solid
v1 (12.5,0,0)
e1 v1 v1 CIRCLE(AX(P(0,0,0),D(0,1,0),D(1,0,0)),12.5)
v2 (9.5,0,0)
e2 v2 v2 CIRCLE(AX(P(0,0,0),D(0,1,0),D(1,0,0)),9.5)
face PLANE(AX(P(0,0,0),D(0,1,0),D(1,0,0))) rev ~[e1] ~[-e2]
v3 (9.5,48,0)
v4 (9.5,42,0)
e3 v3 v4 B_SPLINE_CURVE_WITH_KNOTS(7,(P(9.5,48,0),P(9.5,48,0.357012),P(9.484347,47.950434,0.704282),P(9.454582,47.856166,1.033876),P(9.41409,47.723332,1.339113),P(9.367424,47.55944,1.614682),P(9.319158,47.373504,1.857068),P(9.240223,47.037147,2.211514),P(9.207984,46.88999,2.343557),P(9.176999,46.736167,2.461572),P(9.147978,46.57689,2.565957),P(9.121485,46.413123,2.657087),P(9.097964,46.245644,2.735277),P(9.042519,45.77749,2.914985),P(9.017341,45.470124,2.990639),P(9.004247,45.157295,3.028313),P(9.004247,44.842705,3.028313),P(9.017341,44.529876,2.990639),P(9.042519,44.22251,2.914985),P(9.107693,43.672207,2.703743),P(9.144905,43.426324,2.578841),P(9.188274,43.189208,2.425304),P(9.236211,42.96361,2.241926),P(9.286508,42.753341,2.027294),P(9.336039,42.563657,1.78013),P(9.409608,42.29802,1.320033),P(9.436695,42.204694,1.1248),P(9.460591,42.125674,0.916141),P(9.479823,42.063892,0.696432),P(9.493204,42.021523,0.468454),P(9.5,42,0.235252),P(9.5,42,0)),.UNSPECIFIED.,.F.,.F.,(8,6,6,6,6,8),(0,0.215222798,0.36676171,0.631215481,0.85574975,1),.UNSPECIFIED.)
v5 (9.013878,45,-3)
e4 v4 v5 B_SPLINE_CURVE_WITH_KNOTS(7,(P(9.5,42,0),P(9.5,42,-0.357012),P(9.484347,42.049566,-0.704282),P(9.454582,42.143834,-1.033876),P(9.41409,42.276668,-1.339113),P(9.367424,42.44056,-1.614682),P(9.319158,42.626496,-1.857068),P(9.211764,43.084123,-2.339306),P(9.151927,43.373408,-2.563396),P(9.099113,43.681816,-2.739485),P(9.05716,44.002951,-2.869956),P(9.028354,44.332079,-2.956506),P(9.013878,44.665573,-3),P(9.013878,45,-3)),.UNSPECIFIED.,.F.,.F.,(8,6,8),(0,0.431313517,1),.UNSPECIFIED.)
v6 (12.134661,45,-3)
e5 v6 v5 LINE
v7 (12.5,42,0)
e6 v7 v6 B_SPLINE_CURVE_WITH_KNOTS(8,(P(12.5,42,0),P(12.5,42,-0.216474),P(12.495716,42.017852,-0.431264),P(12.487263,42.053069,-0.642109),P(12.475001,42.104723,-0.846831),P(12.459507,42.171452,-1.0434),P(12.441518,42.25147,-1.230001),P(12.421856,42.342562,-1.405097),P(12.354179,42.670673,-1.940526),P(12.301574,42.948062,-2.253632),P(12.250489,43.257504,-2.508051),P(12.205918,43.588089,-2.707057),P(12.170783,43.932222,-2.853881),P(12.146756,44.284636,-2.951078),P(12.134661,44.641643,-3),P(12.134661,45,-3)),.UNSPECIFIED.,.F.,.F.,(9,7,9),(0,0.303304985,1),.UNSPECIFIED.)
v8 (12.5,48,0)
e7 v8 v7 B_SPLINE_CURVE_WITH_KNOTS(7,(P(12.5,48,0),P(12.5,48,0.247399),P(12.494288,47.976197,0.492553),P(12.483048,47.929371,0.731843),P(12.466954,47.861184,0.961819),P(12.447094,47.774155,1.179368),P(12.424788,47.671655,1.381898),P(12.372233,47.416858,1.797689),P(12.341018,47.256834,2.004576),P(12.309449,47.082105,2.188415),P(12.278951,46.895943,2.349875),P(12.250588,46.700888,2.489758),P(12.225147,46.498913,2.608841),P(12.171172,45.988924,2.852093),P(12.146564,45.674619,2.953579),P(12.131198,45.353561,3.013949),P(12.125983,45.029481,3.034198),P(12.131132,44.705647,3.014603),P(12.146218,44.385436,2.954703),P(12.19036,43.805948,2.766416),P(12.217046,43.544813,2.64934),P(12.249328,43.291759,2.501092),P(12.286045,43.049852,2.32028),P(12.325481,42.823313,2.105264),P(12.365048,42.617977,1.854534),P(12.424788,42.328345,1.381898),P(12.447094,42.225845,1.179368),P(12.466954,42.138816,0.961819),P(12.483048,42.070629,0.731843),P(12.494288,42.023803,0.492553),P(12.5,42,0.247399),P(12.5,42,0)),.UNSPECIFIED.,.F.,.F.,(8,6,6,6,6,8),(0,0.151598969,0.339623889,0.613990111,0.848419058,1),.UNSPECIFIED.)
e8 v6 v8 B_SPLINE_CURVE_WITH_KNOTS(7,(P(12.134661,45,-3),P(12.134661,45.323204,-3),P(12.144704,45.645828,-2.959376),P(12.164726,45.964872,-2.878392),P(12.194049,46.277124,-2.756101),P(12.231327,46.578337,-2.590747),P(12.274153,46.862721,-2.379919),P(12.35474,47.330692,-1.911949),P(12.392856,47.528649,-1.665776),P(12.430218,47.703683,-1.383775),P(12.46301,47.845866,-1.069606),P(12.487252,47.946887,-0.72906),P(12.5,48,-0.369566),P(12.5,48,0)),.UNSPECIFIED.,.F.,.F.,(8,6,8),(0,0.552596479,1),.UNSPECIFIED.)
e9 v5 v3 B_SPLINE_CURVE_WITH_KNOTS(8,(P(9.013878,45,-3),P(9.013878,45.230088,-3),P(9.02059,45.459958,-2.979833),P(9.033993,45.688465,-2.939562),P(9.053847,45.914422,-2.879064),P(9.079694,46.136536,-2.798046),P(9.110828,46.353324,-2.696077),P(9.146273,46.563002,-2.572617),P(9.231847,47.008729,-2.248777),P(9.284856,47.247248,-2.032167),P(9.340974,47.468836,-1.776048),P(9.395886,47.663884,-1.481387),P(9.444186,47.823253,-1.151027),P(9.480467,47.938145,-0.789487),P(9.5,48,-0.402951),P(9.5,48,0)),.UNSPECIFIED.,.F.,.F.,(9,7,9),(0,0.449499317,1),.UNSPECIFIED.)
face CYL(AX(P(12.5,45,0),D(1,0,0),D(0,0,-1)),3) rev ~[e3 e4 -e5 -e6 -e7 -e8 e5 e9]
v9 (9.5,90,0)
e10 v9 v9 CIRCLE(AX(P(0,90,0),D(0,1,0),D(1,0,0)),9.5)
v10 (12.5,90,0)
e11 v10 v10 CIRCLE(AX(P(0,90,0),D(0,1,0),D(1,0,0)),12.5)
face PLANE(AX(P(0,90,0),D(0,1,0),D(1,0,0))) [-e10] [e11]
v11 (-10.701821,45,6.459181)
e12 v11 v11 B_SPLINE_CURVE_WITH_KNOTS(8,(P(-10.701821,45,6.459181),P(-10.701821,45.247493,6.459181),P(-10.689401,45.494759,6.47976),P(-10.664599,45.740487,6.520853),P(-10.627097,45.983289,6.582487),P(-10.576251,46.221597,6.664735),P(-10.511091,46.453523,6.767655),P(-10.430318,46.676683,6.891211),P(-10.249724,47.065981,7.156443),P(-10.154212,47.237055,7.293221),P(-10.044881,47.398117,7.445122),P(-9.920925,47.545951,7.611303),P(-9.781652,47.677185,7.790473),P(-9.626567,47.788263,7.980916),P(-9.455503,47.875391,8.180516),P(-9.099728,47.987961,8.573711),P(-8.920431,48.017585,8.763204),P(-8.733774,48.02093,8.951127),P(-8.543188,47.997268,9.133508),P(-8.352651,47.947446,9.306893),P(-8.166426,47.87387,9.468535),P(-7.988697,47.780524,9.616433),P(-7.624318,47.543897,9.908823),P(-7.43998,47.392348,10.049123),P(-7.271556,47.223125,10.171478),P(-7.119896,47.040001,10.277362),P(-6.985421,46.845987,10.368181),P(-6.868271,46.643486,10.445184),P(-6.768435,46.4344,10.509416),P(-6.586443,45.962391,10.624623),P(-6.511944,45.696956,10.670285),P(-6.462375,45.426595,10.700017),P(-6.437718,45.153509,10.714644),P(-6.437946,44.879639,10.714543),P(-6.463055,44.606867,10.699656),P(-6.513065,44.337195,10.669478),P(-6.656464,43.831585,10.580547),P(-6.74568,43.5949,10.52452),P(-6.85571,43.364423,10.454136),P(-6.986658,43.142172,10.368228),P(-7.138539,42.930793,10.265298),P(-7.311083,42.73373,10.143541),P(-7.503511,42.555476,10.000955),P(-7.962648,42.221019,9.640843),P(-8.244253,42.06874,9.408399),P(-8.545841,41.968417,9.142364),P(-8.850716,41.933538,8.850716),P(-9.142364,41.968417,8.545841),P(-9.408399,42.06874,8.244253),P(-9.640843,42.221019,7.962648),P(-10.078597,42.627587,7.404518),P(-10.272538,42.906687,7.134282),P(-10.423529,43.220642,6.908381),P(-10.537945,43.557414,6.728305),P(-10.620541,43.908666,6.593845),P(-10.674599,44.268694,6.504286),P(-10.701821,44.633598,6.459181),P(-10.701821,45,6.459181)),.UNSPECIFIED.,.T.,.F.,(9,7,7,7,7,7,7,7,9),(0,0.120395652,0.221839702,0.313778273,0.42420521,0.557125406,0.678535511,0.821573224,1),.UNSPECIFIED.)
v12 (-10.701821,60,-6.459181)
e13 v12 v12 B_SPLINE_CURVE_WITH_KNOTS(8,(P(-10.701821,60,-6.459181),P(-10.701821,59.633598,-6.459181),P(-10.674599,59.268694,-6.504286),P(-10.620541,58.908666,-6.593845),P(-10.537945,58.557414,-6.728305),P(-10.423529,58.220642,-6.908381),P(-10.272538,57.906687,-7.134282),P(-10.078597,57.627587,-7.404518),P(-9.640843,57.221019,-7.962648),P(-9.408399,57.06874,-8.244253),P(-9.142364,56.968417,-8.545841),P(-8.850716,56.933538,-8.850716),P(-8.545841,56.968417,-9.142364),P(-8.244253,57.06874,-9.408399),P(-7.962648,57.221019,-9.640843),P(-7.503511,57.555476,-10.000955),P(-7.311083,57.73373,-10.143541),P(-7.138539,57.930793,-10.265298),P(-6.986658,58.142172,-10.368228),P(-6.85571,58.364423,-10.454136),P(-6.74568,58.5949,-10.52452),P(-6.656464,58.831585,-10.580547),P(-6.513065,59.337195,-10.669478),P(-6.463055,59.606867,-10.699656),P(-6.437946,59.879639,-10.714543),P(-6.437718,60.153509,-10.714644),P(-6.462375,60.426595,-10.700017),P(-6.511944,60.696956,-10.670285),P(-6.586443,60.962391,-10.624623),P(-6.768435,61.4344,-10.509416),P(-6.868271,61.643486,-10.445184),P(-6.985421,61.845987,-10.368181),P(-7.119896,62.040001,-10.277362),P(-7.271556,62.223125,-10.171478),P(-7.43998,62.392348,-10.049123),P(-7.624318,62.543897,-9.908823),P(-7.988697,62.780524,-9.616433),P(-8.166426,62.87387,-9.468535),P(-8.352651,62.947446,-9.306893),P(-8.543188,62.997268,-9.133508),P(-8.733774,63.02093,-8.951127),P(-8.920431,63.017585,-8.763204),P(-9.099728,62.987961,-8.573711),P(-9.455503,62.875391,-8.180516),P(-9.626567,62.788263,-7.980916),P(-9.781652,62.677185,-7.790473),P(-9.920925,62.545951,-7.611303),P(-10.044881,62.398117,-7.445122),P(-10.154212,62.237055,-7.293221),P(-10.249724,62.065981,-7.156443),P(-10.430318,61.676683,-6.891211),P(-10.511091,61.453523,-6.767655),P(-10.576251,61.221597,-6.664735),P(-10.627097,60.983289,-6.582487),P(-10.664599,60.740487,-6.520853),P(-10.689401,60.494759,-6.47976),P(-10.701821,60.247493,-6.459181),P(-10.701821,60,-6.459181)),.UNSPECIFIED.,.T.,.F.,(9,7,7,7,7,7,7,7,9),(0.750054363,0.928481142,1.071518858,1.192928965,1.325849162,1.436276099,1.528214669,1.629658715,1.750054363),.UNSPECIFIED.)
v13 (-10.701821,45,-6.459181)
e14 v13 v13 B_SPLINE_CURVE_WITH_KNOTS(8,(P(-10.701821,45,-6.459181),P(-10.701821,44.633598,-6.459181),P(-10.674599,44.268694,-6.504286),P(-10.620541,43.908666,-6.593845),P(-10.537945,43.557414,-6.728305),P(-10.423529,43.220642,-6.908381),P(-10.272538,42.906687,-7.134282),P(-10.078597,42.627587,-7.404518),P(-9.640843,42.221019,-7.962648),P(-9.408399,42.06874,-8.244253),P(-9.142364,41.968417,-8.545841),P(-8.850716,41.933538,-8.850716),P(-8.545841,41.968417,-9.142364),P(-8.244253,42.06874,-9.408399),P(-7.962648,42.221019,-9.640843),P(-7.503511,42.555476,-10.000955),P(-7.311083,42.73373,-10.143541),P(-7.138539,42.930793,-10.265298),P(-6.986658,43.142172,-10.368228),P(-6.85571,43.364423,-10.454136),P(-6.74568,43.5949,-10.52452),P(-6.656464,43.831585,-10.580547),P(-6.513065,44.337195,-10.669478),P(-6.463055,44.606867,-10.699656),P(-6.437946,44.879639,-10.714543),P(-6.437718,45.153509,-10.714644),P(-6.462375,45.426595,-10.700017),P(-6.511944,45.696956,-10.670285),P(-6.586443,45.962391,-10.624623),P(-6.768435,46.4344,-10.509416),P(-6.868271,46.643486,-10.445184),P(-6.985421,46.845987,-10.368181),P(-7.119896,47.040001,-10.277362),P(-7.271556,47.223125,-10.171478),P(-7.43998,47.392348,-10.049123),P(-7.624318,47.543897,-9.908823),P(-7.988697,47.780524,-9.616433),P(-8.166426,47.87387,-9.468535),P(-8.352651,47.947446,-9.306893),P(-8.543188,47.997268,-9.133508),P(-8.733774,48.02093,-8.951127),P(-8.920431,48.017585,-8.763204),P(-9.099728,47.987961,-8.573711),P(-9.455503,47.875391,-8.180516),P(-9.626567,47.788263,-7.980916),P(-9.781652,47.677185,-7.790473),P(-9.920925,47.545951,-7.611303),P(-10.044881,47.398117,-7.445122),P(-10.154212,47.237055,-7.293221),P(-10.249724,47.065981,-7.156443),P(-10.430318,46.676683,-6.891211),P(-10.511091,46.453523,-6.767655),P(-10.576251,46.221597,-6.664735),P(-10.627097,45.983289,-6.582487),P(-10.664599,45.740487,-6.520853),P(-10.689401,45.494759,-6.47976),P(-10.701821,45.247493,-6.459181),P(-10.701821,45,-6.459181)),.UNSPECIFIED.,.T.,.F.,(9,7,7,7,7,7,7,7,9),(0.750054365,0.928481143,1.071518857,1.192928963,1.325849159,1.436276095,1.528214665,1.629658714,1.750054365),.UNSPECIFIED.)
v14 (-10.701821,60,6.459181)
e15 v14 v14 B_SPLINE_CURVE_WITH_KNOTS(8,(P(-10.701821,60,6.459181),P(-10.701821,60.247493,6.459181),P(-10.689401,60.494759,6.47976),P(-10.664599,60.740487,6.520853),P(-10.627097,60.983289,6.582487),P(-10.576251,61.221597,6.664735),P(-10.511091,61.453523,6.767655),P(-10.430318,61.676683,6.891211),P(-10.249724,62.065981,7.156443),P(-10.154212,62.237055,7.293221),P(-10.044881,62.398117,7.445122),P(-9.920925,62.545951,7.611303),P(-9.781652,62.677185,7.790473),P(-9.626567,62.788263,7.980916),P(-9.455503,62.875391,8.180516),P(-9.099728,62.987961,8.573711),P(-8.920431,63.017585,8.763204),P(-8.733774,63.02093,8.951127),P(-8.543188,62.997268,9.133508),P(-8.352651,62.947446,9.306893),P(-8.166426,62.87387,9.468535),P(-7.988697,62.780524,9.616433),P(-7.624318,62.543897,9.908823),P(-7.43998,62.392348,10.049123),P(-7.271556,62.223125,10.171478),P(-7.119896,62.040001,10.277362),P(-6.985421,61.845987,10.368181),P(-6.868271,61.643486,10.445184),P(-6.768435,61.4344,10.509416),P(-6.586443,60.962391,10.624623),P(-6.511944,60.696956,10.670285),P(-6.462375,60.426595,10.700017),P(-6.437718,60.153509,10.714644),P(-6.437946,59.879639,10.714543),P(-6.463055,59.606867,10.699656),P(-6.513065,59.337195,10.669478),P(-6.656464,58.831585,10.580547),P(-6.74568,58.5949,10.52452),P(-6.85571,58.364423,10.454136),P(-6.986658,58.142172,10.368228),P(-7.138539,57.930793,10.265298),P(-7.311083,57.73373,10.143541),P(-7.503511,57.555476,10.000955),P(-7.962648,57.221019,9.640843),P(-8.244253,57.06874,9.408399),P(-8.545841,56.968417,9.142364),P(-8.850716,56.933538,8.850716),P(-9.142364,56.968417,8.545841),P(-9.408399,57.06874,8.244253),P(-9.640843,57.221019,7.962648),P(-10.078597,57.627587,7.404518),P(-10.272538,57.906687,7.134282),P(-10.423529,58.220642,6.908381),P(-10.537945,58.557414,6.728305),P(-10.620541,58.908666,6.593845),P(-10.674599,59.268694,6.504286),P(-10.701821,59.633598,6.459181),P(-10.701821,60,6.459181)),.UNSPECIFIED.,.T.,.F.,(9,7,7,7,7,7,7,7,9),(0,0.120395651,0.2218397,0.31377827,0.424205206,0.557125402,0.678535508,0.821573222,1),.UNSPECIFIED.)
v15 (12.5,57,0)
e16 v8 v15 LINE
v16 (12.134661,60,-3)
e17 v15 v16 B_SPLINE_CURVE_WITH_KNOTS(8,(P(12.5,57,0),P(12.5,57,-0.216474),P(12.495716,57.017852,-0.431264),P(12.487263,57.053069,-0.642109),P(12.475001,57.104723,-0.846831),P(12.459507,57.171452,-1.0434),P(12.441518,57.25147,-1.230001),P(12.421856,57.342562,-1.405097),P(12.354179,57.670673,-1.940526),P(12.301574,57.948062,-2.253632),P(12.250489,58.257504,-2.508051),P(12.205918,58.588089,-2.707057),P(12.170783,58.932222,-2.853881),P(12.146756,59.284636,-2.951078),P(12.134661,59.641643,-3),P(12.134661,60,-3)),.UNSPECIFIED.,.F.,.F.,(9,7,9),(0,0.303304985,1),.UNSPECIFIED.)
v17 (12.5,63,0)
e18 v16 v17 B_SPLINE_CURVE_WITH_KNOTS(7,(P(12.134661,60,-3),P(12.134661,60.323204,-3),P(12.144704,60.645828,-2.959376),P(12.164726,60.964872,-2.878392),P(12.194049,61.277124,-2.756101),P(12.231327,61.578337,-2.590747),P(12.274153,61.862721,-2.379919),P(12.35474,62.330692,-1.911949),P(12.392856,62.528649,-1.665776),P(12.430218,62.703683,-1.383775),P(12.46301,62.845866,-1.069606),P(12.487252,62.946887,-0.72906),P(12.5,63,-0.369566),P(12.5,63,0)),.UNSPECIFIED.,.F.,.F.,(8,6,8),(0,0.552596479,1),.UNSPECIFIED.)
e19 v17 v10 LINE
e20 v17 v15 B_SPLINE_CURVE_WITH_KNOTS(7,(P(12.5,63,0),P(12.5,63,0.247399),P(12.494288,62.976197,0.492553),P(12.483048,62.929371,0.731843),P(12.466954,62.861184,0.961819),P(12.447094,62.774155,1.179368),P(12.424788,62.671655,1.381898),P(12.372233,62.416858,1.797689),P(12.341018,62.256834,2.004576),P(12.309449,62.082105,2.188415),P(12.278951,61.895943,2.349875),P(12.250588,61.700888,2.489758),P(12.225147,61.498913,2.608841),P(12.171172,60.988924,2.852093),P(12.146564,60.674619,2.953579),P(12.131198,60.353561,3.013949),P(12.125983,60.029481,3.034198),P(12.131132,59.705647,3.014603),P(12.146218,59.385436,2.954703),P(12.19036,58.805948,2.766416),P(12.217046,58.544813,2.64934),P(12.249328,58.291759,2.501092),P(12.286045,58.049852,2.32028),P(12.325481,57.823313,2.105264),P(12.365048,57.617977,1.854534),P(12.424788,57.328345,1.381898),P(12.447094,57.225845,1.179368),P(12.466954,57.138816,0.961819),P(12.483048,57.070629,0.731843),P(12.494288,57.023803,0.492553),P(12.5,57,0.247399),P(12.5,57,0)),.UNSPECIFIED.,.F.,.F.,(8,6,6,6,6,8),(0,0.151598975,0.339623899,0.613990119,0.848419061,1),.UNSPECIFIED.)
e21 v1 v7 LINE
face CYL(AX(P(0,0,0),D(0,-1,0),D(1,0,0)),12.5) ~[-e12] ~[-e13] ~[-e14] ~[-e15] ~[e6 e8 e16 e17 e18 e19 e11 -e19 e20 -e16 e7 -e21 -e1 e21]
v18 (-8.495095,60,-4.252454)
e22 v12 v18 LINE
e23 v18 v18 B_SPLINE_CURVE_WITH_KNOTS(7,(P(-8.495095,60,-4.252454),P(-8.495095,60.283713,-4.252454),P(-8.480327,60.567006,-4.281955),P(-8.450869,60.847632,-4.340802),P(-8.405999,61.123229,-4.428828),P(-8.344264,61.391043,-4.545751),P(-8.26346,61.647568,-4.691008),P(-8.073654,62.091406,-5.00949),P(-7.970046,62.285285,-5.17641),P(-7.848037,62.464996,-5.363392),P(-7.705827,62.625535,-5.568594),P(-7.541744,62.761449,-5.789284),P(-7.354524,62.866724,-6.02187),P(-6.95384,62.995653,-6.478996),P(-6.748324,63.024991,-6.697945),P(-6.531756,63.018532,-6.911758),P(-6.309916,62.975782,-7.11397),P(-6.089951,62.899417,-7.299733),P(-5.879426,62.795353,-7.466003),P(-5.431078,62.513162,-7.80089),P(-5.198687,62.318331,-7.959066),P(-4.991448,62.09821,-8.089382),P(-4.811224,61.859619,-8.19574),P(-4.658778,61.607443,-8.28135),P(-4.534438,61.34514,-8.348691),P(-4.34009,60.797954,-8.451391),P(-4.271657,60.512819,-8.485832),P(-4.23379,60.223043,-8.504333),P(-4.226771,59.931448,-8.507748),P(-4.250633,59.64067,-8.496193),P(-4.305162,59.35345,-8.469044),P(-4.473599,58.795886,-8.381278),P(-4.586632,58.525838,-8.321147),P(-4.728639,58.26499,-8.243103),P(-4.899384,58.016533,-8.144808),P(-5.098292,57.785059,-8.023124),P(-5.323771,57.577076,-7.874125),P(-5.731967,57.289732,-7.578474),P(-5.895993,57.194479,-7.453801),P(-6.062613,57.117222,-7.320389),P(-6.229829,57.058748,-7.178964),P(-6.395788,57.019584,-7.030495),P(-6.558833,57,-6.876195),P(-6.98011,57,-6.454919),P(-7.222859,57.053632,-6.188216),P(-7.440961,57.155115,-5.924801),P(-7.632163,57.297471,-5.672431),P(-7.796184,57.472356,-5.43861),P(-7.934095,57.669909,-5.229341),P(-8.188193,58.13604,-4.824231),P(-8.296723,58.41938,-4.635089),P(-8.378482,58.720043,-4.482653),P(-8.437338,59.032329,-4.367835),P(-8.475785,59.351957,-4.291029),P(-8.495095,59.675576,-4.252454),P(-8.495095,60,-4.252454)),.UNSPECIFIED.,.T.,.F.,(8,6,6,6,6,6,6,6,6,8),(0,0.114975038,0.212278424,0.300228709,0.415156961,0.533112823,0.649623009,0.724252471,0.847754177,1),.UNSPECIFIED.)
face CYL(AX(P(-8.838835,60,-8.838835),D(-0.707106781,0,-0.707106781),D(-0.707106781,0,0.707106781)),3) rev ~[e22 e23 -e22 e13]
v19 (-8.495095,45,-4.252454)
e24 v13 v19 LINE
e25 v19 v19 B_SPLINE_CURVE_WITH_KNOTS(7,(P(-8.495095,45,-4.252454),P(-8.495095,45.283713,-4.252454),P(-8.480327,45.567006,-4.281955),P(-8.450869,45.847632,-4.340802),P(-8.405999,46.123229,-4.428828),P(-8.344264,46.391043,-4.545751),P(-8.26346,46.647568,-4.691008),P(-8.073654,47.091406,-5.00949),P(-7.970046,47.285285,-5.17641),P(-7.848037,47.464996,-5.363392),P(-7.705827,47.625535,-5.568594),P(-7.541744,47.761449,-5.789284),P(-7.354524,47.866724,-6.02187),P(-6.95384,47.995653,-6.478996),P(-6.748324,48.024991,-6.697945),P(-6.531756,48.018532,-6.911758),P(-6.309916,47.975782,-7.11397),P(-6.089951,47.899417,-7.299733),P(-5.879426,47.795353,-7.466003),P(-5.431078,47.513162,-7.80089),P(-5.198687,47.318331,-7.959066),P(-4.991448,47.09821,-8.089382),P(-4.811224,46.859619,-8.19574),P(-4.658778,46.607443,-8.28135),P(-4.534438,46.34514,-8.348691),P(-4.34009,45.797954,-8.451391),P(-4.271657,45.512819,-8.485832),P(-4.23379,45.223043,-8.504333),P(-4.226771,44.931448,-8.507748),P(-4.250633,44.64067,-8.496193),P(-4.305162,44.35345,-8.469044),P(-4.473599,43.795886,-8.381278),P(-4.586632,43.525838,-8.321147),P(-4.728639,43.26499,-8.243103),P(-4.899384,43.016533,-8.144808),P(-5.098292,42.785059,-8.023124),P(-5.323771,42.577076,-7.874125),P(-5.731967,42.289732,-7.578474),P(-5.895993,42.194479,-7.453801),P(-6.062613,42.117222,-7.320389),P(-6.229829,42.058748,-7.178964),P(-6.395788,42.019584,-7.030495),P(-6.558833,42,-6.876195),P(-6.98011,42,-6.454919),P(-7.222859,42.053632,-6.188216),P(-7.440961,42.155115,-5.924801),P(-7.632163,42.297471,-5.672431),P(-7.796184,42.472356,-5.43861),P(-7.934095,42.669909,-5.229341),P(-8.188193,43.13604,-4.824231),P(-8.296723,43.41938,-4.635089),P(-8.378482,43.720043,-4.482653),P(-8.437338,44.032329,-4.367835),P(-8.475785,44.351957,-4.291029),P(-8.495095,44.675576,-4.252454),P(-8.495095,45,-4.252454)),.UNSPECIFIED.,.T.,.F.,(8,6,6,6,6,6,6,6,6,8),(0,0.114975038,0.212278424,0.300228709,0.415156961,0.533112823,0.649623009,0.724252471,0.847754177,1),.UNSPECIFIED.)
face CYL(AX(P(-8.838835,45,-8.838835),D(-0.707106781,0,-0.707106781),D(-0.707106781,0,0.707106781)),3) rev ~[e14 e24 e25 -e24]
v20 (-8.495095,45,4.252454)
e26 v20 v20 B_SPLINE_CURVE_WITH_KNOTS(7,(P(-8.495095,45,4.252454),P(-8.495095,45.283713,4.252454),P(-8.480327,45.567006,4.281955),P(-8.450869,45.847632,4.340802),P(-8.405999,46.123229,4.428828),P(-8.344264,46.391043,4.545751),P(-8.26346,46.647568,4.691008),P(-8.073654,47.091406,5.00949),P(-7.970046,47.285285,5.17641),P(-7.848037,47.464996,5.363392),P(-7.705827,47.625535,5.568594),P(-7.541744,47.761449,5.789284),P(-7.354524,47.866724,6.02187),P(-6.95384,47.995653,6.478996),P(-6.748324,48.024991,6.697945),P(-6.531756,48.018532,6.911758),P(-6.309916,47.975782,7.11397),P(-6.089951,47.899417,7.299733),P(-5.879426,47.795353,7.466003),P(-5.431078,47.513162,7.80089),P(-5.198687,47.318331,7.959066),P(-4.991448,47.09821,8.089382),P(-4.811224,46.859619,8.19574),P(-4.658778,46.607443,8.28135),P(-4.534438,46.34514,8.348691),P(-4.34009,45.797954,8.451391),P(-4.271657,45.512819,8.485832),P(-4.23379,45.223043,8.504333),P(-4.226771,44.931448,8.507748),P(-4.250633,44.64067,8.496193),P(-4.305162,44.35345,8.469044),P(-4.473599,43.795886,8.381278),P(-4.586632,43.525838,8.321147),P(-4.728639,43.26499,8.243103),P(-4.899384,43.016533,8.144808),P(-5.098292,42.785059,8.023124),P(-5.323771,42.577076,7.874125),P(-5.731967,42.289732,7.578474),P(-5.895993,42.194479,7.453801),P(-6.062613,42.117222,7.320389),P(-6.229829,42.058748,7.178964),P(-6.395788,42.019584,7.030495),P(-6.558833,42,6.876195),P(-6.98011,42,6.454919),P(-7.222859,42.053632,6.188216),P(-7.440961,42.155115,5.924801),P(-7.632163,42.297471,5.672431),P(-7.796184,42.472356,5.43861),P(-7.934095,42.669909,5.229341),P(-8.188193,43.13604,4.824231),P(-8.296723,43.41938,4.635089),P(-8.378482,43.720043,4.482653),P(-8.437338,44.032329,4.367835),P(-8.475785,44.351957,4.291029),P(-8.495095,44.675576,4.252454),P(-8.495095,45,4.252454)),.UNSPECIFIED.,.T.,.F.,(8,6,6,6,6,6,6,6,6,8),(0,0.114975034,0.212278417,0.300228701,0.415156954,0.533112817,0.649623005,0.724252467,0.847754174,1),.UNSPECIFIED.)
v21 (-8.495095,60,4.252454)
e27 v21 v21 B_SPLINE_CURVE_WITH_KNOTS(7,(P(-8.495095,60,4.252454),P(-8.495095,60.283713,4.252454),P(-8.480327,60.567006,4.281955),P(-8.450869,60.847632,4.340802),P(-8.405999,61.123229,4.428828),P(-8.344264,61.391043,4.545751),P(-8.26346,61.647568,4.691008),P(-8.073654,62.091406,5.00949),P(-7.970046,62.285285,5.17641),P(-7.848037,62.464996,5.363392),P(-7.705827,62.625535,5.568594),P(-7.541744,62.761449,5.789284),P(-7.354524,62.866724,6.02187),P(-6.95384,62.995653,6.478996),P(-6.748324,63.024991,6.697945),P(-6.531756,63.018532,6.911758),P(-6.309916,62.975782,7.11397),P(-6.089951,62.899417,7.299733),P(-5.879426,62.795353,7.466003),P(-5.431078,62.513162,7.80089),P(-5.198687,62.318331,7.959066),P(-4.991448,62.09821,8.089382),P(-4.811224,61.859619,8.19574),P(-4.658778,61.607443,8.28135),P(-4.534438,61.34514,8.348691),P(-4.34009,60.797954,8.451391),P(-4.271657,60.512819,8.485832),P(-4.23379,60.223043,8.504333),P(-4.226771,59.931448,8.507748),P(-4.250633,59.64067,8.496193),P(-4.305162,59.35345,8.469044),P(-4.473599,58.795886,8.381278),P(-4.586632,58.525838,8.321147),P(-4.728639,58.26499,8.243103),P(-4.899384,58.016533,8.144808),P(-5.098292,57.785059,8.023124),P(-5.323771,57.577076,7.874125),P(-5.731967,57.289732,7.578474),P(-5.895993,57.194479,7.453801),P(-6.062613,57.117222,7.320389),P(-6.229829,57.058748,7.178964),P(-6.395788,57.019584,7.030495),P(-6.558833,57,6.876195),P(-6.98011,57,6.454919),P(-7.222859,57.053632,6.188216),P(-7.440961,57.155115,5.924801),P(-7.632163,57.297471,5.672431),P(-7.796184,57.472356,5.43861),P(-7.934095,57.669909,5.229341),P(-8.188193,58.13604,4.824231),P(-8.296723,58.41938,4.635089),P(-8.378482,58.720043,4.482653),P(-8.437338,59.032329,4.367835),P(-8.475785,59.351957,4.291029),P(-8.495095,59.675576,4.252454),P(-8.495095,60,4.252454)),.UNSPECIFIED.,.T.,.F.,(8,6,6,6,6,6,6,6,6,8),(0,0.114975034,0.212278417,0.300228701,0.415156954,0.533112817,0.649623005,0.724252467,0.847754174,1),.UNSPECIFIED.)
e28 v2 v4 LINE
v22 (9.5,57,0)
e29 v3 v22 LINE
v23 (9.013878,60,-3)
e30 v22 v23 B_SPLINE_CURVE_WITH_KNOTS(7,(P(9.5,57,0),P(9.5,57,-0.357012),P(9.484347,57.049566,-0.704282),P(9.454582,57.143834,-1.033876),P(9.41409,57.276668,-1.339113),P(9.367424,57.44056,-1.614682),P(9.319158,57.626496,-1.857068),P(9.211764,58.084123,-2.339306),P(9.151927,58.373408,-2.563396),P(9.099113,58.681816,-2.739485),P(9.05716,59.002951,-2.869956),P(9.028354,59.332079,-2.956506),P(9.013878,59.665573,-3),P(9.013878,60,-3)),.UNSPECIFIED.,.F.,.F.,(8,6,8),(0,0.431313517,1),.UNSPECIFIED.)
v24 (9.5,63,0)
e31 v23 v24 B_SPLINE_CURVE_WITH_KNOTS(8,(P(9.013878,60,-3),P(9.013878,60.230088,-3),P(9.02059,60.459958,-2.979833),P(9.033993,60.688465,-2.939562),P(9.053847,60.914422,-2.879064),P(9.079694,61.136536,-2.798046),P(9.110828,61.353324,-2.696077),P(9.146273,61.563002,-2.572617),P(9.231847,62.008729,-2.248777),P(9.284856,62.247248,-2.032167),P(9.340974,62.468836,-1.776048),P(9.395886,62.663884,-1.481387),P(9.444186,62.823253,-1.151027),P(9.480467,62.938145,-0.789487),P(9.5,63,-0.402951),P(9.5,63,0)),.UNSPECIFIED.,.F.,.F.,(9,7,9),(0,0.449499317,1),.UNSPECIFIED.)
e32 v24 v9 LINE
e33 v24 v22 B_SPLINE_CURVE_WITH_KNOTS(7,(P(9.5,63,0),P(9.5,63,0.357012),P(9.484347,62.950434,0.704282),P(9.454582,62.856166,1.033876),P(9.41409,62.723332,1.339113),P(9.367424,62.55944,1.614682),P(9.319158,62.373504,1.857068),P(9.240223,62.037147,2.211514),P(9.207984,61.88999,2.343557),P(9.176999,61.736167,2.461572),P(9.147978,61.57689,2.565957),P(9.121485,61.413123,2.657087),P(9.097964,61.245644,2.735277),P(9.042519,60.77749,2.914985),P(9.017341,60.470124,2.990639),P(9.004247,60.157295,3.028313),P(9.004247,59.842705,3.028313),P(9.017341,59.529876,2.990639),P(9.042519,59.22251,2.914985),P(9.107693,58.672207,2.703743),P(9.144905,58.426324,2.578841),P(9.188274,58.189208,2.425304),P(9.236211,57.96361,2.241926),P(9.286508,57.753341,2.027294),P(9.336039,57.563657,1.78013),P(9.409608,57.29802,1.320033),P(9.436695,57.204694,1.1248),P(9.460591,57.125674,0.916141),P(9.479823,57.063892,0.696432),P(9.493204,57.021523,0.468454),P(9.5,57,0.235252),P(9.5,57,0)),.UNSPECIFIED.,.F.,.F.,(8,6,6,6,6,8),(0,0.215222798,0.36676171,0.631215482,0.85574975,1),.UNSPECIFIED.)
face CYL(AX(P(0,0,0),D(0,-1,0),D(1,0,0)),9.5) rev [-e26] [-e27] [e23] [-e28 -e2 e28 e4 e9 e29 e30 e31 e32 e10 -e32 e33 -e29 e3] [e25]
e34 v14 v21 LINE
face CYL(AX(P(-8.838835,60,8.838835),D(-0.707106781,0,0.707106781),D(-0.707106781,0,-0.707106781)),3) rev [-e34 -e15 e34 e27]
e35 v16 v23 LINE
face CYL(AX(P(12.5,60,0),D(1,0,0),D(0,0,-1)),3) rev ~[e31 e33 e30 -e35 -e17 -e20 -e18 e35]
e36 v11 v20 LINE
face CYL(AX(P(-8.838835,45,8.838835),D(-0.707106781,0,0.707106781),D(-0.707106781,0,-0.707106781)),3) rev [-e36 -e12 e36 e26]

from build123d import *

# Parameters (mm, degrees)
SKETCH2_R           = 12.5
SKETCH2_R_2         = 9.5
BOSS_EXTRUDE1_DEPTH = 90
SKETCH4_R           = 3
CUT_EXTRUDE1_DEPTH  = 10
SKETCH5_R           = 3
CUT_EXTRUDE2_DEPTH  = 10


with BuildPart() as part:
    # Sketch2 → Boss-Extrude1 (new body)
    with BuildSketch(Plane(origin=(0, 0, 0), x_dir=(1, 0, 0), z_dir=(0, 1, 0))):
        Circle(SKETCH2_R)
        Circle(SKETCH2_R_2, mode=Mode.SUBTRACT)
    extrude(amount=BOSS_EXTRUDE1_DEPTH)

    # Sketch4 → Cut-Extrude1 (cut)
    with BuildSketch(Plane(origin=(12.5, 0, 0), x_dir=(0, 0, -1), z_dir=(1, 0, 0))):
        with Locations((0, 60)):
            Circle(SKETCH4_R)
        with Locations((0, 45)):
            Circle(SKETCH4_R)
    extrude(amount=-CUT_EXTRUDE1_DEPTH, mode=Mode.SUBTRACT)

    # Sketch5 → Cut-Extrude2 (cut)
    with BuildSketch(Plane(origin=(-8.838834765, 0, -8.838834765), x_dir=(-0.707106781, 0, 0.707106781), z_dir=(-0.707106781, 0, -0.707106781))):
        with Locations((0, 60)):
            Circle(SKETCH5_R)
        with Locations((0, 45)):
            Circle(SKETCH5_R)
    cut_extrude2 = extrude(amount=-CUT_EXTRUDE2_DEPTH, mode=Mode.SUBTRACT)

    # Mirror1: Cut-Extrude2 across plane
    add(cut_extrude2.mirror(Plane.XY), mode=Mode.SUBTRACT)


solid = part.part
